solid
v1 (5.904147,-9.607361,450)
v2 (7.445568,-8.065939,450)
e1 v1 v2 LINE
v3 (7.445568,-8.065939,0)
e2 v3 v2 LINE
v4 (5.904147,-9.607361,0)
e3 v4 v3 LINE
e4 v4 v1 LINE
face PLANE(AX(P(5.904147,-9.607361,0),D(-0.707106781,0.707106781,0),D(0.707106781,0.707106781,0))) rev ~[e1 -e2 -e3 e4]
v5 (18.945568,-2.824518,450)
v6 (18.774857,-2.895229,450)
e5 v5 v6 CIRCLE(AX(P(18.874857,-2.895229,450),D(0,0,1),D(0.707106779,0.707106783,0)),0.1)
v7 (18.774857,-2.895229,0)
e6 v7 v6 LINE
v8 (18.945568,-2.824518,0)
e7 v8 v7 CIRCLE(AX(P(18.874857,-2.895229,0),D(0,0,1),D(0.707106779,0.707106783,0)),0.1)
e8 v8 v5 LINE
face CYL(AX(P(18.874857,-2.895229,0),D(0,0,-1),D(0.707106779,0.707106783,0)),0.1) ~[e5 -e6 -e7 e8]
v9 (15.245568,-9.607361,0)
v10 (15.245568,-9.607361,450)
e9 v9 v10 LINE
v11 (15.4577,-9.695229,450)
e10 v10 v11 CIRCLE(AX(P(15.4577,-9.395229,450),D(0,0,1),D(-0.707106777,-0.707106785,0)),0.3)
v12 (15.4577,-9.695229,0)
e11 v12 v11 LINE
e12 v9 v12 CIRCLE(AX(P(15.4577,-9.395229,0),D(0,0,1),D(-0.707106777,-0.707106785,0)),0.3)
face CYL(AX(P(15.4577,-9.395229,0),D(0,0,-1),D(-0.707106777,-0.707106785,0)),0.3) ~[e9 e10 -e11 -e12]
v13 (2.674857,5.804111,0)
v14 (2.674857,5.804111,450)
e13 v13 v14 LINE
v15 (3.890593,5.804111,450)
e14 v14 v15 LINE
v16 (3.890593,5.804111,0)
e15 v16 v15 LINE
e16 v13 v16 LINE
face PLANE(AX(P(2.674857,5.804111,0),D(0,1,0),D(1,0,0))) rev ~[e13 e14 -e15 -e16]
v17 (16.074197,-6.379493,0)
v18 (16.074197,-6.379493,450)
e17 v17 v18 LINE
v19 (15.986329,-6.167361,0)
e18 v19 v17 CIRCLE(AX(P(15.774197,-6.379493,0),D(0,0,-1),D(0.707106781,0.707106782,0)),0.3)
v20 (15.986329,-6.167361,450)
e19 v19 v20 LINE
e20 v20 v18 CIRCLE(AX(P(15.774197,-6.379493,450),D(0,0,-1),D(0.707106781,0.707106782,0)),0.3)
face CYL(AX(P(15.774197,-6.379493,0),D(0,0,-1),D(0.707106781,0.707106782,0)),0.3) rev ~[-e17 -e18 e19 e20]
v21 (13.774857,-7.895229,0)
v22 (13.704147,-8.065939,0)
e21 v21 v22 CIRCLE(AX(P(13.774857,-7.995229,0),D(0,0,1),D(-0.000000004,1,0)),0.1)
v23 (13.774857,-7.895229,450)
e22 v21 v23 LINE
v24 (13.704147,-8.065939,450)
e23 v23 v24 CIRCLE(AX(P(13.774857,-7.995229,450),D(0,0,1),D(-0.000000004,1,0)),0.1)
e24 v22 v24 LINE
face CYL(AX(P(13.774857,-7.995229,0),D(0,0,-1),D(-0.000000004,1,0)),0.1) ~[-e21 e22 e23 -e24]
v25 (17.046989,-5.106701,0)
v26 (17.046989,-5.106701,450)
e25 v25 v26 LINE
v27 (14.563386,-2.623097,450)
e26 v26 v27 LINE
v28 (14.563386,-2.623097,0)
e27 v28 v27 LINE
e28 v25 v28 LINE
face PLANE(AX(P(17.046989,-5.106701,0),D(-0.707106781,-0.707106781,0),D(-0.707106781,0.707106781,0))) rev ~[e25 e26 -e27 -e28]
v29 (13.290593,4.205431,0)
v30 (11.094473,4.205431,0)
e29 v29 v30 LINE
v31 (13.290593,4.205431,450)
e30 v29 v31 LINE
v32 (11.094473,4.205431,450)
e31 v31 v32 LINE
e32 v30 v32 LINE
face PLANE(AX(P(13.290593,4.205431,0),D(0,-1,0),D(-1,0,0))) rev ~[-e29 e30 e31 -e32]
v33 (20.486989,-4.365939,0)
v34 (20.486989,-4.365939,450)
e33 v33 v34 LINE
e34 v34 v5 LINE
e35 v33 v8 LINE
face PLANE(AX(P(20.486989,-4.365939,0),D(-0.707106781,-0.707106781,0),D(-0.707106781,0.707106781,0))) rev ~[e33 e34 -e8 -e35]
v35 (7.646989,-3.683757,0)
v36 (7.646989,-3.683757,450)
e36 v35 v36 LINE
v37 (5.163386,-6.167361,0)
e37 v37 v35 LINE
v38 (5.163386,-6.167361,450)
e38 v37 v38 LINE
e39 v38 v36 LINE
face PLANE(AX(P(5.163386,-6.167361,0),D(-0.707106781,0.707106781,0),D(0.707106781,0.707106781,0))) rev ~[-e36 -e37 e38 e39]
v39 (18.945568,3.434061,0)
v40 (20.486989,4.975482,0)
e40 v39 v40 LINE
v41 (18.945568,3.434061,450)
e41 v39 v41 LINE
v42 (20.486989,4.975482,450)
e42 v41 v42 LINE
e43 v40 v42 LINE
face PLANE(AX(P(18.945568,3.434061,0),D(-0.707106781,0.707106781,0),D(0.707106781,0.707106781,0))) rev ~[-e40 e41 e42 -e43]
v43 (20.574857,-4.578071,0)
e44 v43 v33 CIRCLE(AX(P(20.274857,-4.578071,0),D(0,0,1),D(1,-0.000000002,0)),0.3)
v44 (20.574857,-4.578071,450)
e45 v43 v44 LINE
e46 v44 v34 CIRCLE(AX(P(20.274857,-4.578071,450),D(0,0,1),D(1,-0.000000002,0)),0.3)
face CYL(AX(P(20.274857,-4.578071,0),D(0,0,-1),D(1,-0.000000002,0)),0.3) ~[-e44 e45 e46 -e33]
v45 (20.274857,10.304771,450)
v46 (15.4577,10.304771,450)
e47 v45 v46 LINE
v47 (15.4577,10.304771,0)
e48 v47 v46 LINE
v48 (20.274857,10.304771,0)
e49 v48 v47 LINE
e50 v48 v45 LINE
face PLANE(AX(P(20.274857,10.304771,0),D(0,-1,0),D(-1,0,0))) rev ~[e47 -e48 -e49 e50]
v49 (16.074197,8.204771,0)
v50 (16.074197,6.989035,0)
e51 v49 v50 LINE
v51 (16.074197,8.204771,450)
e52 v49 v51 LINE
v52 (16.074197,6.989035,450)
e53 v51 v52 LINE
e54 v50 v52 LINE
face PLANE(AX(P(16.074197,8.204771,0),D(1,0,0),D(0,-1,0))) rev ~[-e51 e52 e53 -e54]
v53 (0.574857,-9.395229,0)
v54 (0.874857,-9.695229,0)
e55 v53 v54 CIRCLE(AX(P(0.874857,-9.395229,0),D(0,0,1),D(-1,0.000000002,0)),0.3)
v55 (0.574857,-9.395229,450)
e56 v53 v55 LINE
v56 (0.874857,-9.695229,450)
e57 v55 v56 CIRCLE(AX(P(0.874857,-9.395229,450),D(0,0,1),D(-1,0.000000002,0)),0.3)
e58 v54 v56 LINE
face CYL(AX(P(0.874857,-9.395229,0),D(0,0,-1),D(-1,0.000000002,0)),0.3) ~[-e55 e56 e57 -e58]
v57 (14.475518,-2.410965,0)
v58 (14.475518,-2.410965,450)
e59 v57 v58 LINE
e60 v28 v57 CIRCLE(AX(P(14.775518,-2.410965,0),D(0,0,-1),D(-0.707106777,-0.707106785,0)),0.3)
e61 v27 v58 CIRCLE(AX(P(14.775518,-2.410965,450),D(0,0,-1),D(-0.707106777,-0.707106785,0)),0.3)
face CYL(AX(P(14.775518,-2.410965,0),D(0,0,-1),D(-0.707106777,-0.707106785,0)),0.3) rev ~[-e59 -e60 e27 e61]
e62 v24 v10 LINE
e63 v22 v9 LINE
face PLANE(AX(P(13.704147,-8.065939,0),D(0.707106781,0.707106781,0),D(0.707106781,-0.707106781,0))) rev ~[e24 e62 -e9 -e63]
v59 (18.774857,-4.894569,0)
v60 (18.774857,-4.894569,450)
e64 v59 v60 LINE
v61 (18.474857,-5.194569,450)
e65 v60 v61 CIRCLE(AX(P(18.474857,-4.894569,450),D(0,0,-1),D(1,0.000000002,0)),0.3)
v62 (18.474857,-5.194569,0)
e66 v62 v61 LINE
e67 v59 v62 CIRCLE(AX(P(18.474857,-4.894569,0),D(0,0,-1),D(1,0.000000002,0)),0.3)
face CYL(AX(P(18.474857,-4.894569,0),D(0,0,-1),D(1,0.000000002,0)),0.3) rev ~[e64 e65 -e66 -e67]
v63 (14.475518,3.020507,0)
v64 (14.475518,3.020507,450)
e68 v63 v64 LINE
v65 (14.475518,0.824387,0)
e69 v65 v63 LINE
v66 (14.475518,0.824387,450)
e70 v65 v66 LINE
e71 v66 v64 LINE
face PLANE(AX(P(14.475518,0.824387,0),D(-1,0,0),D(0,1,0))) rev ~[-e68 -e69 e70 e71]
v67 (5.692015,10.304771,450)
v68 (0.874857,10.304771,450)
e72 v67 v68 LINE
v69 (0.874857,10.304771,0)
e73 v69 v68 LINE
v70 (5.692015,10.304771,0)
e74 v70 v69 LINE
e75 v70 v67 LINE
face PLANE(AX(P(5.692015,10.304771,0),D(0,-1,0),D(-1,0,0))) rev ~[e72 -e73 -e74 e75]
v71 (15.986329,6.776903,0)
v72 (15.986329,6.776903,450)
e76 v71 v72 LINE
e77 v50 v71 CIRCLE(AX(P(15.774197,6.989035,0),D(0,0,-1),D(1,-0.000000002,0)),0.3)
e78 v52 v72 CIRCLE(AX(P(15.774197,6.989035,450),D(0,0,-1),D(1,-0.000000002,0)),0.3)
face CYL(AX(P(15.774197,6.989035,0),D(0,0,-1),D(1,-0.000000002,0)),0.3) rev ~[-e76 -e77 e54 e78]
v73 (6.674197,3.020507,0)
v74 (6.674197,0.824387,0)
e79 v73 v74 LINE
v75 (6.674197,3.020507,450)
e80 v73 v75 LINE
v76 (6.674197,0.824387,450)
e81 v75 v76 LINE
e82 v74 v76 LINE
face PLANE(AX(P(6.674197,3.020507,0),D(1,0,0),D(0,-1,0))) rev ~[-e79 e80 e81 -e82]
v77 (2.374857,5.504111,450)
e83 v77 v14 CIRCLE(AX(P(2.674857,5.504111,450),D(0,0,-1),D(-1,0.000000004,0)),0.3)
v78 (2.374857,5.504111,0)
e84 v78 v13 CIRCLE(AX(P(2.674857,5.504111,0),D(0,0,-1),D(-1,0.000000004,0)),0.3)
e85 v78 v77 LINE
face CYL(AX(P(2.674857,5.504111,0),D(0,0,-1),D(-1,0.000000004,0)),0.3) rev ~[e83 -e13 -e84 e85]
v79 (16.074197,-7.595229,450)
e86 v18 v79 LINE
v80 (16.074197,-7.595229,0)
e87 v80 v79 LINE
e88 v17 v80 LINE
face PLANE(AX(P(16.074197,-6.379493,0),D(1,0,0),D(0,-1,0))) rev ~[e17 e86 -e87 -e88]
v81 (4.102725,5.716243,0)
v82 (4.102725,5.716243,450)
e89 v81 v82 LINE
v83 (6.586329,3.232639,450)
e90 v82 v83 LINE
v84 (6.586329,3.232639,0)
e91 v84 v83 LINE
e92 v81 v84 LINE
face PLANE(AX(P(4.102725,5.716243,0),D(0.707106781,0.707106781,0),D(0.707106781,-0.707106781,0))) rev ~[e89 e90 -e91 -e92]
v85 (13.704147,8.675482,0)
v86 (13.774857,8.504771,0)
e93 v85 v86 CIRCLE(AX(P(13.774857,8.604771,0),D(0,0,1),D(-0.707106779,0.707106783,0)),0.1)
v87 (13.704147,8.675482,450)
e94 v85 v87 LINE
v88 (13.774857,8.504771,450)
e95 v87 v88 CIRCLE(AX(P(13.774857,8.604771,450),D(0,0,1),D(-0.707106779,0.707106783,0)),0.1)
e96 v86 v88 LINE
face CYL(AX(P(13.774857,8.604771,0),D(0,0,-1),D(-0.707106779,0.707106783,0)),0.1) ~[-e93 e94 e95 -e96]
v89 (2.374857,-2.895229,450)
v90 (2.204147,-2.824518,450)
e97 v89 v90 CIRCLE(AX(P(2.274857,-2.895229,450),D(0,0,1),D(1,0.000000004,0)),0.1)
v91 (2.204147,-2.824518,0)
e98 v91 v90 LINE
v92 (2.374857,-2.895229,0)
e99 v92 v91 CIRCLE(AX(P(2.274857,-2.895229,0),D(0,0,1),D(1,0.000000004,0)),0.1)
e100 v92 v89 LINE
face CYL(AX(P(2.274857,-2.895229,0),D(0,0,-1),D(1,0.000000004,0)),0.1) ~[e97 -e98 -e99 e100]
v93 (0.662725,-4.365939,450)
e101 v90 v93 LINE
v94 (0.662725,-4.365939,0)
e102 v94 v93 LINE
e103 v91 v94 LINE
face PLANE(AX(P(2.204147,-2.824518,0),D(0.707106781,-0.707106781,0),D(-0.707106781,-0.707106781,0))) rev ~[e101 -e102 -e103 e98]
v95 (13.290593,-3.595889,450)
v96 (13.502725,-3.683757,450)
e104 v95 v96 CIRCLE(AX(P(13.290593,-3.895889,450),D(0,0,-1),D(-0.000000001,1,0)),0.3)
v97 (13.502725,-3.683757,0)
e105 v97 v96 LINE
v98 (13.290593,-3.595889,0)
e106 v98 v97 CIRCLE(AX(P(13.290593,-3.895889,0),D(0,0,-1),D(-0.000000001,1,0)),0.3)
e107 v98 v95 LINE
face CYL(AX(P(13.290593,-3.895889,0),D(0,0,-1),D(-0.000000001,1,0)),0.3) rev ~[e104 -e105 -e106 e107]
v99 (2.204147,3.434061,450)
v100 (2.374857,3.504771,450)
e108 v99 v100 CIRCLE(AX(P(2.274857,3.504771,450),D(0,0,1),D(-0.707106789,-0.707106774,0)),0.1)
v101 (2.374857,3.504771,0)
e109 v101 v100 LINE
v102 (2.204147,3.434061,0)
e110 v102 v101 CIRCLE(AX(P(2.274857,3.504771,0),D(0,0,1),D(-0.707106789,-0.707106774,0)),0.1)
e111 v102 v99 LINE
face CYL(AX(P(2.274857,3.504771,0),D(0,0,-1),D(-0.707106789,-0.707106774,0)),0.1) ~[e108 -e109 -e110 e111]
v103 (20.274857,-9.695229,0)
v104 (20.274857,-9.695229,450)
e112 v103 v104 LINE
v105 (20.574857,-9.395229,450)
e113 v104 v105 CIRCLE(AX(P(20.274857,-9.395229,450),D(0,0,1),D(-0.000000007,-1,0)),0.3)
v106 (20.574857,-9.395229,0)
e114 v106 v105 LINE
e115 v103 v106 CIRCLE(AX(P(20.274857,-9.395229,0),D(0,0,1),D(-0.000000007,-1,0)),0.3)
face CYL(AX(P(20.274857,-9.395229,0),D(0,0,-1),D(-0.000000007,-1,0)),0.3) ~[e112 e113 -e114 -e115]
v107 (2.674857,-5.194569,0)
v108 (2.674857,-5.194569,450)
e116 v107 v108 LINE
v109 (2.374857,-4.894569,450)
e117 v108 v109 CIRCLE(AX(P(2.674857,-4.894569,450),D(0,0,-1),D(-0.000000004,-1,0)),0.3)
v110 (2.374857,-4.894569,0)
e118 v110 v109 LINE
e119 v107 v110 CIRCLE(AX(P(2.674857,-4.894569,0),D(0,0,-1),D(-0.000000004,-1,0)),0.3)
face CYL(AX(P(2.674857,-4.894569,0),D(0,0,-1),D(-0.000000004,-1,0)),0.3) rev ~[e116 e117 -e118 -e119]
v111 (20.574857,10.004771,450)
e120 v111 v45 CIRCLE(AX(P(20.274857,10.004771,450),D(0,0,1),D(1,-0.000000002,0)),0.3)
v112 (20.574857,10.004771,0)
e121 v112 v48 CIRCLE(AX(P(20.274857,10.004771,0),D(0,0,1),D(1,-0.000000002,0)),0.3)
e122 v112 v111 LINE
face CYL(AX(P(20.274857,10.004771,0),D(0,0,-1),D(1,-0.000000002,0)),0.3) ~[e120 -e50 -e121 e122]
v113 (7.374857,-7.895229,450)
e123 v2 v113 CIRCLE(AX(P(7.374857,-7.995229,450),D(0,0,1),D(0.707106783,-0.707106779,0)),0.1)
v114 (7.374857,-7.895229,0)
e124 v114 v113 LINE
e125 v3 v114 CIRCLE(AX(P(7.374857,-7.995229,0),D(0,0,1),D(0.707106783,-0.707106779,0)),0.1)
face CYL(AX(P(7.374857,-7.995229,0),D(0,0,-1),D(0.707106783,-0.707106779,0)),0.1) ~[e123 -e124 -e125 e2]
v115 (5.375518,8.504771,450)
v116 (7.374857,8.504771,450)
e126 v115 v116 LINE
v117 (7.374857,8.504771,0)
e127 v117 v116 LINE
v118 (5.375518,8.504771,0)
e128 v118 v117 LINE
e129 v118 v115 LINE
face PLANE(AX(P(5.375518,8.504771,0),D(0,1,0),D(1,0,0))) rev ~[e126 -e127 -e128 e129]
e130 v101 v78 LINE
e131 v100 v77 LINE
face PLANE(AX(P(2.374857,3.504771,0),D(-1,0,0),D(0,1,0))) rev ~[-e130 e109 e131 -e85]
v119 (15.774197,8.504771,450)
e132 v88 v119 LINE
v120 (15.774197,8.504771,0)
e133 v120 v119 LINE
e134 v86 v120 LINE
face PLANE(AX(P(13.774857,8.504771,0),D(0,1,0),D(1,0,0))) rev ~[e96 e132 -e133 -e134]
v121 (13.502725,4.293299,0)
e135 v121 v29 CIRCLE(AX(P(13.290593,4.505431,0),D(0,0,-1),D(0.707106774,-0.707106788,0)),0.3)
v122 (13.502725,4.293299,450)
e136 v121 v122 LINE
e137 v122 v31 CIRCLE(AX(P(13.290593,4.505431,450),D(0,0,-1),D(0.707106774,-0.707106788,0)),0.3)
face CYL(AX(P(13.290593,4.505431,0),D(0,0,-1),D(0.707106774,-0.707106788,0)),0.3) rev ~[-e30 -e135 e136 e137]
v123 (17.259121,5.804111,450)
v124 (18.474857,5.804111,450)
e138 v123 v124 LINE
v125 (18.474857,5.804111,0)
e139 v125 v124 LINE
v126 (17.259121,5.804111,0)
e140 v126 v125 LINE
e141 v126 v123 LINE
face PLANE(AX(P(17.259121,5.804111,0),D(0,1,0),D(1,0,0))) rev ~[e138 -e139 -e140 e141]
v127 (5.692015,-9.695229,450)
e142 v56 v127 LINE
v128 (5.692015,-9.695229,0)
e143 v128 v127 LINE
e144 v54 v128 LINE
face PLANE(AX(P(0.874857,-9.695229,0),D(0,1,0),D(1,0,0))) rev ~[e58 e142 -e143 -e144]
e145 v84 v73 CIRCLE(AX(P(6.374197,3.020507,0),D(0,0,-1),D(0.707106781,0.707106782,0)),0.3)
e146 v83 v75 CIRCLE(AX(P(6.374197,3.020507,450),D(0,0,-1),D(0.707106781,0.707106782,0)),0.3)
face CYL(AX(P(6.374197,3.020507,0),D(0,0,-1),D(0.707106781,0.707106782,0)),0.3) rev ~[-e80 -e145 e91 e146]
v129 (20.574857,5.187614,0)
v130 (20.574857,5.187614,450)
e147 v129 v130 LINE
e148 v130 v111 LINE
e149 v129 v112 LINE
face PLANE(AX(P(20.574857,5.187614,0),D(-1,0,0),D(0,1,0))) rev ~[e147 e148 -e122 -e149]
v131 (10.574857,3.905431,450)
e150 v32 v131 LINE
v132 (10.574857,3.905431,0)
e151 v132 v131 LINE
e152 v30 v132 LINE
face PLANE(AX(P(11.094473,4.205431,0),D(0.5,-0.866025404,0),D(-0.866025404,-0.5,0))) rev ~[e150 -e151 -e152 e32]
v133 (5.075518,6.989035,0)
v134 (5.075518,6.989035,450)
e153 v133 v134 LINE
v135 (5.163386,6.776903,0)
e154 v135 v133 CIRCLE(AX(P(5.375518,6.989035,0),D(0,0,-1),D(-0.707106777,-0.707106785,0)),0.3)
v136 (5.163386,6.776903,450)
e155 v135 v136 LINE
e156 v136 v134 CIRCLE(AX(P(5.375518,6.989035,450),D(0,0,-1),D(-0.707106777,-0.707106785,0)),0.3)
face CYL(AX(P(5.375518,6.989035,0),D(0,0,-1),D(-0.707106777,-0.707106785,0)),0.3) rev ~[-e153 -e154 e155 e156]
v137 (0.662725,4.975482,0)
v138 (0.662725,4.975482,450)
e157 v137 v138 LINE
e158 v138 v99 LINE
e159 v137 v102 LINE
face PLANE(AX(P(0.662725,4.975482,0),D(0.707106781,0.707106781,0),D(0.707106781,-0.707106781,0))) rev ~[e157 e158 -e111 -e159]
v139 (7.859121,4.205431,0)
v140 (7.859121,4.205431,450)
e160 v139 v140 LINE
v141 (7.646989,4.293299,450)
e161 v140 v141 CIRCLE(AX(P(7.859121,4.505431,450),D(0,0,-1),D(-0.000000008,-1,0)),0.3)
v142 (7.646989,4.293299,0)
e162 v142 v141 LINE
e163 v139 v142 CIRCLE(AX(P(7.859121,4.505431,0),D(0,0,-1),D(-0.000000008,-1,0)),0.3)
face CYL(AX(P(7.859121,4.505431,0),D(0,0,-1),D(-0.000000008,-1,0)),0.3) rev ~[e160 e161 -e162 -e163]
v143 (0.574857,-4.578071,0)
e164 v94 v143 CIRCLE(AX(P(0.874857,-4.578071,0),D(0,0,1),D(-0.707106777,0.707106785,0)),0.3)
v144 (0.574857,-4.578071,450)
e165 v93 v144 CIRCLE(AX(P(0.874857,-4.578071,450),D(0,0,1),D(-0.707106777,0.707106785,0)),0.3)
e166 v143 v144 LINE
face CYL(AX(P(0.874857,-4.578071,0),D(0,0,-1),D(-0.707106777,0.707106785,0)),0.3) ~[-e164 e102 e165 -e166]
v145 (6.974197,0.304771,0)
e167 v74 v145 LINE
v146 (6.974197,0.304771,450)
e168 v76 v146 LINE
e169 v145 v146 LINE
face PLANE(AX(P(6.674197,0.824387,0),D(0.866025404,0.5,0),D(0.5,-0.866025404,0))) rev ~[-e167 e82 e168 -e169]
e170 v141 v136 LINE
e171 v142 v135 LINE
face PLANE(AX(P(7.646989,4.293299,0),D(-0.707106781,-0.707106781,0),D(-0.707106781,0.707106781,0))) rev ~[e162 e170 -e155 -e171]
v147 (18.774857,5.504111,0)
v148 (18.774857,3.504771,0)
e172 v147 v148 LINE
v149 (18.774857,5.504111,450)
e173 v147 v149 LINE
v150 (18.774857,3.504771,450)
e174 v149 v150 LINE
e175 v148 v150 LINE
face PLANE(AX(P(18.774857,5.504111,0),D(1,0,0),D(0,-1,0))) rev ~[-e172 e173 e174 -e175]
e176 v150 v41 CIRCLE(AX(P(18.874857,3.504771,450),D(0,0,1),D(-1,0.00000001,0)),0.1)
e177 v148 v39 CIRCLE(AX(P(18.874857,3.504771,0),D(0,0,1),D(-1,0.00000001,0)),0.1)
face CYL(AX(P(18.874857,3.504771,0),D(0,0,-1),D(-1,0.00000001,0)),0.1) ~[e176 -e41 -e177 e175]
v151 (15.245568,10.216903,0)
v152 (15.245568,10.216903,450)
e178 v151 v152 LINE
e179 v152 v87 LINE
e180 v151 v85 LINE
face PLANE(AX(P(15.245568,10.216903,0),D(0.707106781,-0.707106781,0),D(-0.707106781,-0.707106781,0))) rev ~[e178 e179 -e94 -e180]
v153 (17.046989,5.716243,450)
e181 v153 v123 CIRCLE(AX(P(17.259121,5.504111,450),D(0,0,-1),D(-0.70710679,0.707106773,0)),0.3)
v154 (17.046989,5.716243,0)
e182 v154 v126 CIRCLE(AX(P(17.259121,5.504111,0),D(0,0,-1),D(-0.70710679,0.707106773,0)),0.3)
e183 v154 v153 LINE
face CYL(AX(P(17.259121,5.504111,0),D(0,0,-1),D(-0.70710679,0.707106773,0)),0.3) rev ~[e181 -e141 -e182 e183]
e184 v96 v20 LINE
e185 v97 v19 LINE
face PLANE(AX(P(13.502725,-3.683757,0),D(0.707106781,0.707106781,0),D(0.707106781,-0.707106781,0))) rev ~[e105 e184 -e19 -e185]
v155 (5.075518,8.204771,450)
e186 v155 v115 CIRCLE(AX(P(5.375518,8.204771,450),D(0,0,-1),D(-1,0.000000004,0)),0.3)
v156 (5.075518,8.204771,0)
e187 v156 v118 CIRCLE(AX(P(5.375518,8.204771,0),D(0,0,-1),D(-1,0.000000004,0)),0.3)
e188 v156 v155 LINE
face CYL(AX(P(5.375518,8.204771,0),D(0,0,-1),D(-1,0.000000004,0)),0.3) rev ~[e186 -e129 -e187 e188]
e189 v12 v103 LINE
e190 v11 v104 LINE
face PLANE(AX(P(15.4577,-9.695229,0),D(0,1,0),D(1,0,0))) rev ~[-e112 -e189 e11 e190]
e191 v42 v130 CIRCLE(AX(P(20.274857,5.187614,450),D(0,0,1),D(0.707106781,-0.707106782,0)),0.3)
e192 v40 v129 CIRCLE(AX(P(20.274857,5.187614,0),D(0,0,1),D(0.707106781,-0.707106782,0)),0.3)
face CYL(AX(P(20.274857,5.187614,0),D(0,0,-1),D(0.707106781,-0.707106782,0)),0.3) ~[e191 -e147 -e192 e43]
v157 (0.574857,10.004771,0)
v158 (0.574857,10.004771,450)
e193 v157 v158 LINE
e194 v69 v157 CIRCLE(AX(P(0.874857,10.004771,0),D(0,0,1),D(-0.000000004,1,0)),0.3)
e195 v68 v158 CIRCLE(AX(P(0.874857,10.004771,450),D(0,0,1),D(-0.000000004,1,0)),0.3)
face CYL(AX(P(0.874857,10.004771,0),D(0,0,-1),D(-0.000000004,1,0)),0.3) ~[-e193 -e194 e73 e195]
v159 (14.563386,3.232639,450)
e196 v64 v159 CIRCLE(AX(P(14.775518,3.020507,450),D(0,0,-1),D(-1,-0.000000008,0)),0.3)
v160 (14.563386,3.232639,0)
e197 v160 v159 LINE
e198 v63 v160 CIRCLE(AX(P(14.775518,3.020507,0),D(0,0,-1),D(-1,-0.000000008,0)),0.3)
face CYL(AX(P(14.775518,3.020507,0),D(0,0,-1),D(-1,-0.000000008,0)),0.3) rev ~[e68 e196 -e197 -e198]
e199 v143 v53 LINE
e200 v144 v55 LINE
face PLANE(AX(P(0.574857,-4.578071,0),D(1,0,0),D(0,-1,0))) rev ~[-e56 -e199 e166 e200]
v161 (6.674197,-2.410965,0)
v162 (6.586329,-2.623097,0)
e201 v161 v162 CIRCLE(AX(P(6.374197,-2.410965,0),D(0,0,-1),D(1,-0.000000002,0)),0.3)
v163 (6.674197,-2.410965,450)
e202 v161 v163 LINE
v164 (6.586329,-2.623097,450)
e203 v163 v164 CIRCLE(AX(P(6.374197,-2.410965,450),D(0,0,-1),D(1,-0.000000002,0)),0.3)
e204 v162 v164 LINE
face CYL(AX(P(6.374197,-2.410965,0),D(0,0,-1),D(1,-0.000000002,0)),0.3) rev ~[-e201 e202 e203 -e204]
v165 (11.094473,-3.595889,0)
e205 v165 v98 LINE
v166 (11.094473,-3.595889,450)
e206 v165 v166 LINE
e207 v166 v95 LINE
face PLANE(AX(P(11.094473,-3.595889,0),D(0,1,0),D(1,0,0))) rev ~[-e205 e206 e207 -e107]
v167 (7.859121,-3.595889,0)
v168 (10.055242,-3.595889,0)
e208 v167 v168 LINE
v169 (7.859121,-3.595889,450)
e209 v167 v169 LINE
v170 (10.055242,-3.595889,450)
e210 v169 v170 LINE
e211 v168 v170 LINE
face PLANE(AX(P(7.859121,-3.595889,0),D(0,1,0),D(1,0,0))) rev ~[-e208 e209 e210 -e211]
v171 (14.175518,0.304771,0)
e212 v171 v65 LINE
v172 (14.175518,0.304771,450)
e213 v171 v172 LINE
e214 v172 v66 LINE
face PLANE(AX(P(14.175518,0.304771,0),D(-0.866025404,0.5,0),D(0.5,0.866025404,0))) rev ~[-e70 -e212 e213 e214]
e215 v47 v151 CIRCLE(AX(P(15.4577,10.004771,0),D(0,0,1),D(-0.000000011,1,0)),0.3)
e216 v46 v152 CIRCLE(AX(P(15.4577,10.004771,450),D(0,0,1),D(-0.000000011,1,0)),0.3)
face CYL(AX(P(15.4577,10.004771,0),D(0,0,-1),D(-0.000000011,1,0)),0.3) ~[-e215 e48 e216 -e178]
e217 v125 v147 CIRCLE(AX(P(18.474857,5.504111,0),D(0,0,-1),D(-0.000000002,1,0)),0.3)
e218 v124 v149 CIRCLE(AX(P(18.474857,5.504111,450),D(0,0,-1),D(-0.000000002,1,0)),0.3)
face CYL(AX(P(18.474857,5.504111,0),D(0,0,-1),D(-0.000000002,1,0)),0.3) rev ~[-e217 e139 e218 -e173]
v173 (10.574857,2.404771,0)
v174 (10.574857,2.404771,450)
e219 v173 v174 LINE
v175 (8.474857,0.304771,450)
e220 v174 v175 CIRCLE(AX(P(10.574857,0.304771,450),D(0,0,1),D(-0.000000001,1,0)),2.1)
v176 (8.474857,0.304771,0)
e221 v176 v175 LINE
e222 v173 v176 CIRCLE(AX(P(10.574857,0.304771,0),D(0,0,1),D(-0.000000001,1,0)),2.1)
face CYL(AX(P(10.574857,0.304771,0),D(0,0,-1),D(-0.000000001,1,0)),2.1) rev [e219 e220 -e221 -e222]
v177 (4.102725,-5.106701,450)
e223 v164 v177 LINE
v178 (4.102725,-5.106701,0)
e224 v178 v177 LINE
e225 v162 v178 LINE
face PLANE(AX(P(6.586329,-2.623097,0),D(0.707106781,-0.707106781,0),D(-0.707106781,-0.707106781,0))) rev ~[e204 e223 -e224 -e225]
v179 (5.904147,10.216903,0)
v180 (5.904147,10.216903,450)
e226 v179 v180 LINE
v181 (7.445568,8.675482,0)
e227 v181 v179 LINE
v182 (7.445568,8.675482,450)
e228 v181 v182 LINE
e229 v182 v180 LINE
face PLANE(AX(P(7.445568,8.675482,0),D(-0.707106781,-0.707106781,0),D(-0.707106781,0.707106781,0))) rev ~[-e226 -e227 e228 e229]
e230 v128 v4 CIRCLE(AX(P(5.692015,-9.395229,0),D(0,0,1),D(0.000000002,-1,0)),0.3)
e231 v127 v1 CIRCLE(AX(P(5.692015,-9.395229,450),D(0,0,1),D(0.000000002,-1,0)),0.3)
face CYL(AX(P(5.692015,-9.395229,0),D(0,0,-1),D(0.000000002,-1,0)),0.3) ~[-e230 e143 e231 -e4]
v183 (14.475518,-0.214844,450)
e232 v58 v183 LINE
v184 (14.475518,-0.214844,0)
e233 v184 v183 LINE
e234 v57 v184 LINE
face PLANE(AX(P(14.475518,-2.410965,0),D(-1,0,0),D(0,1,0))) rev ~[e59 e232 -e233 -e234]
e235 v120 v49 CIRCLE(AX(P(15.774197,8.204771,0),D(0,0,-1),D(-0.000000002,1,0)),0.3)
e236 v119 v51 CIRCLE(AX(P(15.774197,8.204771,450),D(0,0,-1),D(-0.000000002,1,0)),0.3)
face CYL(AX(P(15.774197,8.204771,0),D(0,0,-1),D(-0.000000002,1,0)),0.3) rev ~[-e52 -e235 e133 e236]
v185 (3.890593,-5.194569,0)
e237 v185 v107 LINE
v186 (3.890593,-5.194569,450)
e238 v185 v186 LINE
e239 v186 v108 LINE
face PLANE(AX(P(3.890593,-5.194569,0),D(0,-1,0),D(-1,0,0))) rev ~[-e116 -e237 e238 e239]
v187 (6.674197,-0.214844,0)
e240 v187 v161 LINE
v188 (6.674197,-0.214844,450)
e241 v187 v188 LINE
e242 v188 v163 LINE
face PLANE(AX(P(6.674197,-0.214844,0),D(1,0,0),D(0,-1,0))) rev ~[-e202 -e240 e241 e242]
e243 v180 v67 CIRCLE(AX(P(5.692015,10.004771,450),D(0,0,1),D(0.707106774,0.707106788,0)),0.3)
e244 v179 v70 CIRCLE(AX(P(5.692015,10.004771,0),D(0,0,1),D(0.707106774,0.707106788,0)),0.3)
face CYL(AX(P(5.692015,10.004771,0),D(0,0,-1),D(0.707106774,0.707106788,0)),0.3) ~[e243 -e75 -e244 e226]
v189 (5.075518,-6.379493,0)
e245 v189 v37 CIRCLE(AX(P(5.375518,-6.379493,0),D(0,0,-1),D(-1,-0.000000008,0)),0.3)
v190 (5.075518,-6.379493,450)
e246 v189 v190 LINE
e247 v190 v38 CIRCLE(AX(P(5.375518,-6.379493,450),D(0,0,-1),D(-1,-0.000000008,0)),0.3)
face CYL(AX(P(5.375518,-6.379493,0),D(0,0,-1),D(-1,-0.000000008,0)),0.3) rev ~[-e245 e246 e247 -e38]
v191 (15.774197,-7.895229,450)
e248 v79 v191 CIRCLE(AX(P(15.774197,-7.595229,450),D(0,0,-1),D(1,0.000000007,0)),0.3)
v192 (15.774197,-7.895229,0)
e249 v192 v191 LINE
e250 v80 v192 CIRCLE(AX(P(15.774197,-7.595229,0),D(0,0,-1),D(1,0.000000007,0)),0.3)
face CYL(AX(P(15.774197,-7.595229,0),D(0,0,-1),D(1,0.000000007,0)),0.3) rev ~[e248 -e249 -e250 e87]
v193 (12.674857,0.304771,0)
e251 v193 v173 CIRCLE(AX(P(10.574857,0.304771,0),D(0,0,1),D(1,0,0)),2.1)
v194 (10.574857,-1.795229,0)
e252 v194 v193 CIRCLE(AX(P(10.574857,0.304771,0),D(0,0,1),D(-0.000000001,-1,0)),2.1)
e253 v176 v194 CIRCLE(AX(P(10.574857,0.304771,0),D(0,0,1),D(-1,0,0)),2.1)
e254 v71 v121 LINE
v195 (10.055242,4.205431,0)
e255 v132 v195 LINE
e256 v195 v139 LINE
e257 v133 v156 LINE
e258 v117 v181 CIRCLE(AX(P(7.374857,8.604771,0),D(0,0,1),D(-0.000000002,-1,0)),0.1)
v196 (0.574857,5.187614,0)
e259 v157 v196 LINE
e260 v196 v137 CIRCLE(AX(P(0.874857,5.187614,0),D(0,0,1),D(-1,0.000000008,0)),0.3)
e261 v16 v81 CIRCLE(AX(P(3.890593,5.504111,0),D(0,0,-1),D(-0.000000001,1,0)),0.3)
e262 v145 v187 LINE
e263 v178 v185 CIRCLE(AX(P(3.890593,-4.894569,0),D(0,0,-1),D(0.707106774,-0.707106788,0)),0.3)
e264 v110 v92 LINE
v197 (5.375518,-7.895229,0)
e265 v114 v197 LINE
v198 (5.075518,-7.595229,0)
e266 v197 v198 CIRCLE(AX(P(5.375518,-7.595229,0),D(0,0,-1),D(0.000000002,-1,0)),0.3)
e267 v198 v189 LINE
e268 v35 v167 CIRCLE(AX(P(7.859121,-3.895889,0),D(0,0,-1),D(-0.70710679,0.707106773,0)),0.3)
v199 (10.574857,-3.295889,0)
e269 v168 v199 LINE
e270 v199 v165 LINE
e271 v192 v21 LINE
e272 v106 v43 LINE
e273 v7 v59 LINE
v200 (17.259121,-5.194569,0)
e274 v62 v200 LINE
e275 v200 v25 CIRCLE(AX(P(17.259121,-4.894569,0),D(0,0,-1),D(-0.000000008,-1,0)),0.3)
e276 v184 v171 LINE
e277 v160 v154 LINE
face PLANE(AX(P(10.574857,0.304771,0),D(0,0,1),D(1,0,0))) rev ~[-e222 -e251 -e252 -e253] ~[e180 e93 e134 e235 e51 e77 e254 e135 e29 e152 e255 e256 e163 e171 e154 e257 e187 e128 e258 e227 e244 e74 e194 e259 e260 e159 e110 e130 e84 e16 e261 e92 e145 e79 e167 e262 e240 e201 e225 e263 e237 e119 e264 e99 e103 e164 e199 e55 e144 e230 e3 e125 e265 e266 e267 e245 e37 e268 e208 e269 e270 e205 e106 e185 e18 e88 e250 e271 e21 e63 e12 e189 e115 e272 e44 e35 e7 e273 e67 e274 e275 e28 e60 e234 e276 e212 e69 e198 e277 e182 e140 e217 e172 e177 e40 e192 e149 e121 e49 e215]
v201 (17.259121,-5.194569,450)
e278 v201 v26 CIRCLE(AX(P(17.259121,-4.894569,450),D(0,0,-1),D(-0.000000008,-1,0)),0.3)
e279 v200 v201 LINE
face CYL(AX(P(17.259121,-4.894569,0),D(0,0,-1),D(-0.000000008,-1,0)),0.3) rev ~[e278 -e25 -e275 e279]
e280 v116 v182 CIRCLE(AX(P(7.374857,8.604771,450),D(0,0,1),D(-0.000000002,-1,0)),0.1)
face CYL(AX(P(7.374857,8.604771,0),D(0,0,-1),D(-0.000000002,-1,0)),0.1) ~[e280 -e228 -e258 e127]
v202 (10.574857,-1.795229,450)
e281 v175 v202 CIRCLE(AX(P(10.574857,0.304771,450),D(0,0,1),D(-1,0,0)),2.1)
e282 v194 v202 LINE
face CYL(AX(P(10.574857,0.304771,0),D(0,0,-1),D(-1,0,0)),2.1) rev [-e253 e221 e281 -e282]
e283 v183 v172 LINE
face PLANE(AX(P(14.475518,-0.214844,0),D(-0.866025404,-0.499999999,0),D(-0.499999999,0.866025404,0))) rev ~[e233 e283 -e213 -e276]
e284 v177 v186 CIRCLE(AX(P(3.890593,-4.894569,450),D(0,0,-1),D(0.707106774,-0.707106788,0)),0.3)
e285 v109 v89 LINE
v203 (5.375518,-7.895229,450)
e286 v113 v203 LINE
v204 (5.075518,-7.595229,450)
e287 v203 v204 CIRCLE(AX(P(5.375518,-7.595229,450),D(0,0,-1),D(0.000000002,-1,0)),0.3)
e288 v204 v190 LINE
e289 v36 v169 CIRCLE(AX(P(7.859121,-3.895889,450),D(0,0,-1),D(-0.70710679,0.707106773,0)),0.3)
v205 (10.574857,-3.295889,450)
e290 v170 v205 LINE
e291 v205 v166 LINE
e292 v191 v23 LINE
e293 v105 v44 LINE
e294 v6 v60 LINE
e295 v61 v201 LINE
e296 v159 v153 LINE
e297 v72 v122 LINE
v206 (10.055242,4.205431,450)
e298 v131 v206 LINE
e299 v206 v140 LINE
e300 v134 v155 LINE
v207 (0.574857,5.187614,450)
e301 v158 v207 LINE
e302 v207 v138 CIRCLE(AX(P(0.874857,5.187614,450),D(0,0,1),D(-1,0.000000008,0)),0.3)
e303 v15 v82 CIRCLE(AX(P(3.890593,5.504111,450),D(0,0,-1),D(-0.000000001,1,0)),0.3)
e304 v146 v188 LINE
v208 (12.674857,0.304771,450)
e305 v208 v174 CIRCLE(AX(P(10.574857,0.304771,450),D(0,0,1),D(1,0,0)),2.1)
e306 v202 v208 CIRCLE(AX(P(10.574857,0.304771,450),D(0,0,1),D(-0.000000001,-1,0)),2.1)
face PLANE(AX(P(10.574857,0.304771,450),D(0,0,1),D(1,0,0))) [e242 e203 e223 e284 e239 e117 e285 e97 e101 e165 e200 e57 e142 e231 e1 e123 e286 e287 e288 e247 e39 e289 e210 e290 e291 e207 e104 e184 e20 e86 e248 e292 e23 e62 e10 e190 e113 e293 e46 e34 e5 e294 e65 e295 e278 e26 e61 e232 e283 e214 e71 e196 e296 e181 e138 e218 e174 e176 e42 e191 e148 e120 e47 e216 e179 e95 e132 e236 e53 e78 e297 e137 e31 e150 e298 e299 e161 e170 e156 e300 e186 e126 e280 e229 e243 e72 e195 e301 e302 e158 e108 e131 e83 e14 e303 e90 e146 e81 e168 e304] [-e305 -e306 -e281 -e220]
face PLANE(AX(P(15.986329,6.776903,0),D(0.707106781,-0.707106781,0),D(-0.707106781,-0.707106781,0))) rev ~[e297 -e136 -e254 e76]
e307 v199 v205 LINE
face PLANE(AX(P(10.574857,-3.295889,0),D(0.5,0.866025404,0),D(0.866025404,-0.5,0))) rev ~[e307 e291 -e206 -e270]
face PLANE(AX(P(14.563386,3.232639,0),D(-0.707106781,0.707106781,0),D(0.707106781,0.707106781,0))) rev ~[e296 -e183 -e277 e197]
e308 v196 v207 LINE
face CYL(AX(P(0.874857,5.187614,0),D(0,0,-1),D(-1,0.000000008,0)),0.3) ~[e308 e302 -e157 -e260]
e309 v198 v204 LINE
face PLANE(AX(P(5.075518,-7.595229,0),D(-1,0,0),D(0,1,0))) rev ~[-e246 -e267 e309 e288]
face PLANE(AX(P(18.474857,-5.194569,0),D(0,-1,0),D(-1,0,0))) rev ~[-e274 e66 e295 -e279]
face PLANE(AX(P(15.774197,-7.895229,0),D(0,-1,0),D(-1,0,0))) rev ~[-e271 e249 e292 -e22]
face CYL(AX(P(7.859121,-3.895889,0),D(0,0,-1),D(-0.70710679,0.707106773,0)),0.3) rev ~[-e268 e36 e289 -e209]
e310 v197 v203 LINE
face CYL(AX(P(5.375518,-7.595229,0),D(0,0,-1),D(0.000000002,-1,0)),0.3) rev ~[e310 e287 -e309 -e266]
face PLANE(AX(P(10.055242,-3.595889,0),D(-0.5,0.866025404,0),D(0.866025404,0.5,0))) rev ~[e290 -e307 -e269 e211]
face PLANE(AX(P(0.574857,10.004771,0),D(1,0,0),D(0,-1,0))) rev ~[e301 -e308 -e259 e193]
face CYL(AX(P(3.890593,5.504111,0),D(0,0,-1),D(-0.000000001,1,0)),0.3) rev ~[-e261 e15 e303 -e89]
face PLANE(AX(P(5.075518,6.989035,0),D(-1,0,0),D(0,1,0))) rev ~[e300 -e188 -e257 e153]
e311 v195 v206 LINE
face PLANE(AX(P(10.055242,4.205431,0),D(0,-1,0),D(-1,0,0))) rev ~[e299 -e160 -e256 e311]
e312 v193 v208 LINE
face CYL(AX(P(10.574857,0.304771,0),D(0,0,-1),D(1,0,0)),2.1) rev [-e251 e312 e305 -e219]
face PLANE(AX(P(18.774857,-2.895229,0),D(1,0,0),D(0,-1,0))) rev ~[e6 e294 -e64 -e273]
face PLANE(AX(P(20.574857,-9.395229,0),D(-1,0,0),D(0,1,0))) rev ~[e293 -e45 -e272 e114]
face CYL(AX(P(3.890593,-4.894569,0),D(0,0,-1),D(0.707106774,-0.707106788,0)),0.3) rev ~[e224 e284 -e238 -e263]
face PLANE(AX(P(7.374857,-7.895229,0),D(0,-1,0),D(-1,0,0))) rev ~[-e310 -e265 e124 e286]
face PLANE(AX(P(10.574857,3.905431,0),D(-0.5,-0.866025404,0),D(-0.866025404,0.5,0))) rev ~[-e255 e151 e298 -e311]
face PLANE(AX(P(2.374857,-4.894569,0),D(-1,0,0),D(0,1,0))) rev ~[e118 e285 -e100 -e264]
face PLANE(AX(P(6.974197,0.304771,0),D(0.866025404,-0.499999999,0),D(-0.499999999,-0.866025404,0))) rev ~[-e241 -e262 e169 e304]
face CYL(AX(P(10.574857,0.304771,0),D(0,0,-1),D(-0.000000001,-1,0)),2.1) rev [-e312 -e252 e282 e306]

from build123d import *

# Parameters (mm, degrees)
BOSS_EXTRU_1_DEPTH = 450


with BuildPart() as part:
    # Esquisse1 → Boss.-Extru.1 (new body)
    with BuildSketch(Plane.XY):
        with BuildLine():
            Line((18.774857412, -2.895228684), (18.774857412, -4.894568513))
            ThreePointArc((18.774857412, -4.894568513), (18.686989447, -5.106700547), (18.474857412, -5.194568513))
            Line((18.474857412, -5.194568513), (17.259121481, -5.194568513))
            ThreePointArc((17.259121481, -5.194568513), (17.144316451, -5.171732372), (17.046989447, -5.106700547))
            Line((17.046989447, -5.106700547), (14.56338555, -2.62309665))
            ThreePointArc((14.56338555, -2.62309665), (14.498353724, -2.525769645), (14.475517584, -2.410964616))
            Line((14.475517584, -2.410964616), (14.475517584, -0.214843927))
            Line((14.475517584, -0.214843927), (14.175517584, 0.304771316))
            Line((14.175517584, 0.304771316), (14.475517584, 0.824386558))
            Line((14.475517584, 0.824386558), (14.475517584, 3.020507247))
            ThreePointArc((14.475517584, 3.020507247), (14.498353724, 3.135312277), (14.56338555, 3.232639281))
            Line((14.56338555, 3.232639281), (17.046989447, 5.716243178))
            ThreePointArc((17.046989447, 5.716243178), (17.144316451, 5.781275004), (17.259121481, 5.804111144))
            Line((17.259121481, 5.804111144), (18.474857412, 5.804111144))
            ThreePointArc((18.474857412, 5.804111144), (18.686989447, 5.716243178), (18.774857412, 5.504111144))
            Line((18.774857412, 5.504111144), (18.774857412, 3.504771316))
            ThreePointArc((18.774857412, 3.504771316), (18.836589069, 3.412383362), (18.94556809, 3.434060638))
            Line((18.94556809, 3.434060638), (20.486989447, 4.975481994))
            ThreePointArc((20.486989447, 4.975481994), (20.552021272, 5.072808998), (20.574857412, 5.187614028))
            Line((20.574857412, 5.187614028), (20.574857412, 10.004771316))
            ThreePointArc((20.574857412, 10.004771316), (20.486989447, 10.21690335), (20.274857412, 10.304771316))
            Line((20.274857412, 10.304771316), (15.457700125, 10.304771316))
            ThreePointArc((15.457700125, 10.304771316), (15.342895095, 10.281935175), (15.24556809, 10.21690335))
            Line((15.24556809, 10.21690335), (13.704146734, 8.675481994))
            ThreePointArc((13.704146734, 8.675481994), (13.682469459, 8.566502972), (13.774857412, 8.504771316))
            Line((13.774857412, 8.504771316), (15.77419724, 8.504771316))
            ThreePointArc((15.77419724, 8.504771316), (15.986329275, 8.41690335), (16.07419724, 8.204771316))
            Line((16.07419724, 8.204771316), (16.07419724, 6.989035384))
            ThreePointArc((16.07419724, 6.989035384), (16.0513611, 6.874230355), (15.986329275, 6.77690335))
            Line((15.986329275, 6.77690335), (13.502725378, 4.293299453))
            ThreePointArc((13.502725378, 4.293299453), (13.405398373, 4.228267628), (13.290593344, 4.205431487))
            Line((13.290593344, 4.205431487), (11.094472654, 4.205431487))
            Line((11.094472654, 4.205431487), (10.574857412, 3.905431487))
            Line((10.574857412, 3.905431487), (10.05524217, 4.205431487))
            Line((10.05524217, 4.205431487), (7.859121481, 4.205431487))
            ThreePointArc((7.859121481, 4.205431487), (7.744316451, 4.228267628), (7.646989447, 4.293299453))
            Line((7.646989447, 4.293299453), (5.16338555, 6.77690335))
            ThreePointArc((5.16338555, 6.77690335), (5.098353724, 6.874230355), (5.075517584, 6.989035384))
            Line((5.075517584, 6.989035384), (5.075517584, 8.204771316))
            ThreePointArc((5.075517584, 8.204771316), (5.16338555, 8.41690335), (5.375517584, 8.504771316))
            Line((5.375517584, 8.504771316), (7.374857412, 8.504771316))
            ThreePointArc((7.374857412, 8.504771316), (7.467245365, 8.566502972), (7.44556809, 8.675481994))
            Line((7.44556809, 8.675481994), (5.904146734, 10.21690335))
            ThreePointArc((5.904146734, 10.21690335), (5.806819729, 10.281935175), (5.6920147, 10.304771316))
            Line((5.6920147, 10.304771316), (0.874857412, 10.304771316))
            ThreePointArc((0.874857412, 10.304771316), (0.662725378, 10.21690335), (0.574857412, 10.004771316))
            Line((0.574857412, 10.004771316), (0.574857412, 5.187614028))
            ThreePointArc((0.574857412, 5.187614028), (0.597693552, 5.072808998), (0.662725378, 4.975481994))
            Line((0.662725378, 4.975481994), (2.204146734, 3.434060638))
            ThreePointArc((2.204146734, 3.434060638), (2.313125755, 3.412383362), (2.374857412, 3.504771316))
            Line((2.374857412, 3.504771316), (2.374857412, 5.504111144))
            ThreePointArc((2.374857412, 5.504111144), (2.462725378, 5.716243178), (2.674857412, 5.804111144))
            Line((2.674857412, 5.804111144), (3.890593344, 5.804111144))
            ThreePointArc((3.890593344, 5.804111144), (4.005398373, 5.781275004), (4.102725378, 5.716243178))
            Line((4.102725378, 5.716243178), (6.586329275, 3.232639281))
            ThreePointArc((6.586329275, 3.232639281), (6.6513611, 3.135312277), (6.67419724, 3.020507247))
            Line((6.67419724, 3.020507247), (6.67419724, 0.824386558))
            Line((6.67419724, 0.824386558), (6.97419724, 0.304771316))
            Line((6.97419724, 0.304771316), (6.67419724, -0.214843927))
            Line((6.67419724, -0.214843927), (6.67419724, -2.410964616))
            ThreePointArc((6.67419724, -2.410964616), (6.6513611, -2.525769645), (6.586329275, -2.62309665))
            Line((6.586329275, -2.62309665), (4.102725378, -5.106700547))
            ThreePointArc((4.102725378, -5.106700547), (4.005398373, -5.171732372), (3.890593344, -5.194568513))
            Line((3.890593344, -5.194568513), (2.674857412, -5.194568513))
            ThreePointArc((2.674857412, -5.194568513), (2.462725378, -5.106700547), (2.374857412, -4.894568513))
            Line((2.374857412, -4.894568513), (2.374857412, -2.895228684))
            ThreePointArc((2.374857412, -2.895228684), (2.313125755, -2.802840731), (2.204146734, -2.824518006))
            Line((2.204146734, -2.824518006), (0.662725378, -4.365939362))
            ThreePointArc((0.662725378, -4.365939362), (0.597693552, -4.463266367), (0.574857412, -4.578071397))
            Line((0.574857412, -4.578071397), (0.574857412, -9.395228684))
            ThreePointArc((0.574857412, -9.395228684), (0.662725378, -9.607360719), (0.874857412, -9.695228684))
            Line((0.874857412, -9.695228684), (5.6920147, -9.695228684))
            ThreePointArc((5.6920147, -9.695228684), (5.806819729, -9.672392544), (5.904146734, -9.607360719))
            Line((5.904146734, -9.607360719), (7.44556809, -8.065939362))
            ThreePointArc((7.44556809, -8.065939362), (7.467245365, -7.956960341), (7.374857412, -7.895228684))
            Line((7.374857412, -7.895228684), (5.375517584, -7.895228684))
            ThreePointArc((5.375517584, -7.895228684), (5.16338555, -7.807360719), (5.075517584, -7.595228684))
            Line((5.075517584, -7.595228684), (5.075517584, -6.379492753))
            ThreePointArc((5.075517584, -6.379492753), (5.098353724, -6.264687723), (5.16338555, -6.167360719))
            Line((5.16338555, -6.167360719), (7.646989447, -3.683756822))
            ThreePointArc((7.646989447, -3.683756822), (7.744316451, -3.618724996), (7.859121481, -3.595888856))
            Line((7.859121481, -3.595888856), (10.05524217, -3.595888856))
            Line((10.05524217, -3.595888856), (10.574857412, -3.295888856))
            Line((10.574857412, -3.295888856), (11.094472654, -3.595888856))
            Line((11.094472654, -3.595888856), (13.290593344, -3.595888856))
            ThreePointArc((13.290593344, -3.595888856), (13.405398373, -3.618724996), (13.502725378, -3.683756822))
            Line((13.502725378, -3.683756822), (15.986329275, -6.167360719))
            ThreePointArc((15.986329275, -6.167360719), (16.0513611, -6.264687723), (16.07419724, -6.379492753))
            Line((16.07419724, -6.379492753), (16.07419724, -7.595228684))
            ThreePointArc((16.07419724, -7.595228684), (15.986329275, -7.807360719), (15.77419724, -7.895228684))
            Line((15.77419724, -7.895228684), (13.774857412, -7.895228684))
            ThreePointArc((13.774857412, -7.895228684), (13.682469459, -7.956960341), (13.704146734, -8.065939362))
            Line((13.704146734, -8.065939362), (15.24556809, -9.607360719))
            ThreePointArc((15.24556809, -9.607360719), (15.342895095, -9.672392544), (15.457700125, -9.695228684))
            Line((15.457700125, -9.695228684), (20.274857412, -9.695228684))
            ThreePointArc((20.274857412, -9.695228684), (20.486989447, -9.607360719), (20.574857412, -9.395228684))
            Line((20.574857412, -9.395228684), (20.574857412, -4.578071397))
            ThreePointArc((20.574857412, -4.578071397), (20.552021272, -4.463266367), (20.486989447, -4.365939362))
            Line((20.486989447, -4.365939362), (18.94556809, -2.824518006))
            ThreePointArc((18.94556809, -2.824518006), (18.836589069, -2.802840731), (18.774857412, -2.895228684))
        make_face()
        with BuildLine():
            ThreePointArc((10.574857412, -1.795228684), (12.059781653, -1.180152925), (12.674857412, 0.304771316))
            ThreePointArc((12.674857412, 0.304771316), (12.059781653, 1.789695556), (10.574857412, 2.404771316))
            ThreePointArc((10.574857412, 2.404771316), (9.089933172, 1.789695556), (8.474857412, 0.304771316))
            ThreePointArc((8.474857412, 0.304771316), (9.089933172, -1.180152925), (10.574857412, -1.795228684))
        make_face(mode=Mode.SUBTRACT)
    extrude(amount=BOSS_EXTRU_1_DEPTH)


solid = part.part
